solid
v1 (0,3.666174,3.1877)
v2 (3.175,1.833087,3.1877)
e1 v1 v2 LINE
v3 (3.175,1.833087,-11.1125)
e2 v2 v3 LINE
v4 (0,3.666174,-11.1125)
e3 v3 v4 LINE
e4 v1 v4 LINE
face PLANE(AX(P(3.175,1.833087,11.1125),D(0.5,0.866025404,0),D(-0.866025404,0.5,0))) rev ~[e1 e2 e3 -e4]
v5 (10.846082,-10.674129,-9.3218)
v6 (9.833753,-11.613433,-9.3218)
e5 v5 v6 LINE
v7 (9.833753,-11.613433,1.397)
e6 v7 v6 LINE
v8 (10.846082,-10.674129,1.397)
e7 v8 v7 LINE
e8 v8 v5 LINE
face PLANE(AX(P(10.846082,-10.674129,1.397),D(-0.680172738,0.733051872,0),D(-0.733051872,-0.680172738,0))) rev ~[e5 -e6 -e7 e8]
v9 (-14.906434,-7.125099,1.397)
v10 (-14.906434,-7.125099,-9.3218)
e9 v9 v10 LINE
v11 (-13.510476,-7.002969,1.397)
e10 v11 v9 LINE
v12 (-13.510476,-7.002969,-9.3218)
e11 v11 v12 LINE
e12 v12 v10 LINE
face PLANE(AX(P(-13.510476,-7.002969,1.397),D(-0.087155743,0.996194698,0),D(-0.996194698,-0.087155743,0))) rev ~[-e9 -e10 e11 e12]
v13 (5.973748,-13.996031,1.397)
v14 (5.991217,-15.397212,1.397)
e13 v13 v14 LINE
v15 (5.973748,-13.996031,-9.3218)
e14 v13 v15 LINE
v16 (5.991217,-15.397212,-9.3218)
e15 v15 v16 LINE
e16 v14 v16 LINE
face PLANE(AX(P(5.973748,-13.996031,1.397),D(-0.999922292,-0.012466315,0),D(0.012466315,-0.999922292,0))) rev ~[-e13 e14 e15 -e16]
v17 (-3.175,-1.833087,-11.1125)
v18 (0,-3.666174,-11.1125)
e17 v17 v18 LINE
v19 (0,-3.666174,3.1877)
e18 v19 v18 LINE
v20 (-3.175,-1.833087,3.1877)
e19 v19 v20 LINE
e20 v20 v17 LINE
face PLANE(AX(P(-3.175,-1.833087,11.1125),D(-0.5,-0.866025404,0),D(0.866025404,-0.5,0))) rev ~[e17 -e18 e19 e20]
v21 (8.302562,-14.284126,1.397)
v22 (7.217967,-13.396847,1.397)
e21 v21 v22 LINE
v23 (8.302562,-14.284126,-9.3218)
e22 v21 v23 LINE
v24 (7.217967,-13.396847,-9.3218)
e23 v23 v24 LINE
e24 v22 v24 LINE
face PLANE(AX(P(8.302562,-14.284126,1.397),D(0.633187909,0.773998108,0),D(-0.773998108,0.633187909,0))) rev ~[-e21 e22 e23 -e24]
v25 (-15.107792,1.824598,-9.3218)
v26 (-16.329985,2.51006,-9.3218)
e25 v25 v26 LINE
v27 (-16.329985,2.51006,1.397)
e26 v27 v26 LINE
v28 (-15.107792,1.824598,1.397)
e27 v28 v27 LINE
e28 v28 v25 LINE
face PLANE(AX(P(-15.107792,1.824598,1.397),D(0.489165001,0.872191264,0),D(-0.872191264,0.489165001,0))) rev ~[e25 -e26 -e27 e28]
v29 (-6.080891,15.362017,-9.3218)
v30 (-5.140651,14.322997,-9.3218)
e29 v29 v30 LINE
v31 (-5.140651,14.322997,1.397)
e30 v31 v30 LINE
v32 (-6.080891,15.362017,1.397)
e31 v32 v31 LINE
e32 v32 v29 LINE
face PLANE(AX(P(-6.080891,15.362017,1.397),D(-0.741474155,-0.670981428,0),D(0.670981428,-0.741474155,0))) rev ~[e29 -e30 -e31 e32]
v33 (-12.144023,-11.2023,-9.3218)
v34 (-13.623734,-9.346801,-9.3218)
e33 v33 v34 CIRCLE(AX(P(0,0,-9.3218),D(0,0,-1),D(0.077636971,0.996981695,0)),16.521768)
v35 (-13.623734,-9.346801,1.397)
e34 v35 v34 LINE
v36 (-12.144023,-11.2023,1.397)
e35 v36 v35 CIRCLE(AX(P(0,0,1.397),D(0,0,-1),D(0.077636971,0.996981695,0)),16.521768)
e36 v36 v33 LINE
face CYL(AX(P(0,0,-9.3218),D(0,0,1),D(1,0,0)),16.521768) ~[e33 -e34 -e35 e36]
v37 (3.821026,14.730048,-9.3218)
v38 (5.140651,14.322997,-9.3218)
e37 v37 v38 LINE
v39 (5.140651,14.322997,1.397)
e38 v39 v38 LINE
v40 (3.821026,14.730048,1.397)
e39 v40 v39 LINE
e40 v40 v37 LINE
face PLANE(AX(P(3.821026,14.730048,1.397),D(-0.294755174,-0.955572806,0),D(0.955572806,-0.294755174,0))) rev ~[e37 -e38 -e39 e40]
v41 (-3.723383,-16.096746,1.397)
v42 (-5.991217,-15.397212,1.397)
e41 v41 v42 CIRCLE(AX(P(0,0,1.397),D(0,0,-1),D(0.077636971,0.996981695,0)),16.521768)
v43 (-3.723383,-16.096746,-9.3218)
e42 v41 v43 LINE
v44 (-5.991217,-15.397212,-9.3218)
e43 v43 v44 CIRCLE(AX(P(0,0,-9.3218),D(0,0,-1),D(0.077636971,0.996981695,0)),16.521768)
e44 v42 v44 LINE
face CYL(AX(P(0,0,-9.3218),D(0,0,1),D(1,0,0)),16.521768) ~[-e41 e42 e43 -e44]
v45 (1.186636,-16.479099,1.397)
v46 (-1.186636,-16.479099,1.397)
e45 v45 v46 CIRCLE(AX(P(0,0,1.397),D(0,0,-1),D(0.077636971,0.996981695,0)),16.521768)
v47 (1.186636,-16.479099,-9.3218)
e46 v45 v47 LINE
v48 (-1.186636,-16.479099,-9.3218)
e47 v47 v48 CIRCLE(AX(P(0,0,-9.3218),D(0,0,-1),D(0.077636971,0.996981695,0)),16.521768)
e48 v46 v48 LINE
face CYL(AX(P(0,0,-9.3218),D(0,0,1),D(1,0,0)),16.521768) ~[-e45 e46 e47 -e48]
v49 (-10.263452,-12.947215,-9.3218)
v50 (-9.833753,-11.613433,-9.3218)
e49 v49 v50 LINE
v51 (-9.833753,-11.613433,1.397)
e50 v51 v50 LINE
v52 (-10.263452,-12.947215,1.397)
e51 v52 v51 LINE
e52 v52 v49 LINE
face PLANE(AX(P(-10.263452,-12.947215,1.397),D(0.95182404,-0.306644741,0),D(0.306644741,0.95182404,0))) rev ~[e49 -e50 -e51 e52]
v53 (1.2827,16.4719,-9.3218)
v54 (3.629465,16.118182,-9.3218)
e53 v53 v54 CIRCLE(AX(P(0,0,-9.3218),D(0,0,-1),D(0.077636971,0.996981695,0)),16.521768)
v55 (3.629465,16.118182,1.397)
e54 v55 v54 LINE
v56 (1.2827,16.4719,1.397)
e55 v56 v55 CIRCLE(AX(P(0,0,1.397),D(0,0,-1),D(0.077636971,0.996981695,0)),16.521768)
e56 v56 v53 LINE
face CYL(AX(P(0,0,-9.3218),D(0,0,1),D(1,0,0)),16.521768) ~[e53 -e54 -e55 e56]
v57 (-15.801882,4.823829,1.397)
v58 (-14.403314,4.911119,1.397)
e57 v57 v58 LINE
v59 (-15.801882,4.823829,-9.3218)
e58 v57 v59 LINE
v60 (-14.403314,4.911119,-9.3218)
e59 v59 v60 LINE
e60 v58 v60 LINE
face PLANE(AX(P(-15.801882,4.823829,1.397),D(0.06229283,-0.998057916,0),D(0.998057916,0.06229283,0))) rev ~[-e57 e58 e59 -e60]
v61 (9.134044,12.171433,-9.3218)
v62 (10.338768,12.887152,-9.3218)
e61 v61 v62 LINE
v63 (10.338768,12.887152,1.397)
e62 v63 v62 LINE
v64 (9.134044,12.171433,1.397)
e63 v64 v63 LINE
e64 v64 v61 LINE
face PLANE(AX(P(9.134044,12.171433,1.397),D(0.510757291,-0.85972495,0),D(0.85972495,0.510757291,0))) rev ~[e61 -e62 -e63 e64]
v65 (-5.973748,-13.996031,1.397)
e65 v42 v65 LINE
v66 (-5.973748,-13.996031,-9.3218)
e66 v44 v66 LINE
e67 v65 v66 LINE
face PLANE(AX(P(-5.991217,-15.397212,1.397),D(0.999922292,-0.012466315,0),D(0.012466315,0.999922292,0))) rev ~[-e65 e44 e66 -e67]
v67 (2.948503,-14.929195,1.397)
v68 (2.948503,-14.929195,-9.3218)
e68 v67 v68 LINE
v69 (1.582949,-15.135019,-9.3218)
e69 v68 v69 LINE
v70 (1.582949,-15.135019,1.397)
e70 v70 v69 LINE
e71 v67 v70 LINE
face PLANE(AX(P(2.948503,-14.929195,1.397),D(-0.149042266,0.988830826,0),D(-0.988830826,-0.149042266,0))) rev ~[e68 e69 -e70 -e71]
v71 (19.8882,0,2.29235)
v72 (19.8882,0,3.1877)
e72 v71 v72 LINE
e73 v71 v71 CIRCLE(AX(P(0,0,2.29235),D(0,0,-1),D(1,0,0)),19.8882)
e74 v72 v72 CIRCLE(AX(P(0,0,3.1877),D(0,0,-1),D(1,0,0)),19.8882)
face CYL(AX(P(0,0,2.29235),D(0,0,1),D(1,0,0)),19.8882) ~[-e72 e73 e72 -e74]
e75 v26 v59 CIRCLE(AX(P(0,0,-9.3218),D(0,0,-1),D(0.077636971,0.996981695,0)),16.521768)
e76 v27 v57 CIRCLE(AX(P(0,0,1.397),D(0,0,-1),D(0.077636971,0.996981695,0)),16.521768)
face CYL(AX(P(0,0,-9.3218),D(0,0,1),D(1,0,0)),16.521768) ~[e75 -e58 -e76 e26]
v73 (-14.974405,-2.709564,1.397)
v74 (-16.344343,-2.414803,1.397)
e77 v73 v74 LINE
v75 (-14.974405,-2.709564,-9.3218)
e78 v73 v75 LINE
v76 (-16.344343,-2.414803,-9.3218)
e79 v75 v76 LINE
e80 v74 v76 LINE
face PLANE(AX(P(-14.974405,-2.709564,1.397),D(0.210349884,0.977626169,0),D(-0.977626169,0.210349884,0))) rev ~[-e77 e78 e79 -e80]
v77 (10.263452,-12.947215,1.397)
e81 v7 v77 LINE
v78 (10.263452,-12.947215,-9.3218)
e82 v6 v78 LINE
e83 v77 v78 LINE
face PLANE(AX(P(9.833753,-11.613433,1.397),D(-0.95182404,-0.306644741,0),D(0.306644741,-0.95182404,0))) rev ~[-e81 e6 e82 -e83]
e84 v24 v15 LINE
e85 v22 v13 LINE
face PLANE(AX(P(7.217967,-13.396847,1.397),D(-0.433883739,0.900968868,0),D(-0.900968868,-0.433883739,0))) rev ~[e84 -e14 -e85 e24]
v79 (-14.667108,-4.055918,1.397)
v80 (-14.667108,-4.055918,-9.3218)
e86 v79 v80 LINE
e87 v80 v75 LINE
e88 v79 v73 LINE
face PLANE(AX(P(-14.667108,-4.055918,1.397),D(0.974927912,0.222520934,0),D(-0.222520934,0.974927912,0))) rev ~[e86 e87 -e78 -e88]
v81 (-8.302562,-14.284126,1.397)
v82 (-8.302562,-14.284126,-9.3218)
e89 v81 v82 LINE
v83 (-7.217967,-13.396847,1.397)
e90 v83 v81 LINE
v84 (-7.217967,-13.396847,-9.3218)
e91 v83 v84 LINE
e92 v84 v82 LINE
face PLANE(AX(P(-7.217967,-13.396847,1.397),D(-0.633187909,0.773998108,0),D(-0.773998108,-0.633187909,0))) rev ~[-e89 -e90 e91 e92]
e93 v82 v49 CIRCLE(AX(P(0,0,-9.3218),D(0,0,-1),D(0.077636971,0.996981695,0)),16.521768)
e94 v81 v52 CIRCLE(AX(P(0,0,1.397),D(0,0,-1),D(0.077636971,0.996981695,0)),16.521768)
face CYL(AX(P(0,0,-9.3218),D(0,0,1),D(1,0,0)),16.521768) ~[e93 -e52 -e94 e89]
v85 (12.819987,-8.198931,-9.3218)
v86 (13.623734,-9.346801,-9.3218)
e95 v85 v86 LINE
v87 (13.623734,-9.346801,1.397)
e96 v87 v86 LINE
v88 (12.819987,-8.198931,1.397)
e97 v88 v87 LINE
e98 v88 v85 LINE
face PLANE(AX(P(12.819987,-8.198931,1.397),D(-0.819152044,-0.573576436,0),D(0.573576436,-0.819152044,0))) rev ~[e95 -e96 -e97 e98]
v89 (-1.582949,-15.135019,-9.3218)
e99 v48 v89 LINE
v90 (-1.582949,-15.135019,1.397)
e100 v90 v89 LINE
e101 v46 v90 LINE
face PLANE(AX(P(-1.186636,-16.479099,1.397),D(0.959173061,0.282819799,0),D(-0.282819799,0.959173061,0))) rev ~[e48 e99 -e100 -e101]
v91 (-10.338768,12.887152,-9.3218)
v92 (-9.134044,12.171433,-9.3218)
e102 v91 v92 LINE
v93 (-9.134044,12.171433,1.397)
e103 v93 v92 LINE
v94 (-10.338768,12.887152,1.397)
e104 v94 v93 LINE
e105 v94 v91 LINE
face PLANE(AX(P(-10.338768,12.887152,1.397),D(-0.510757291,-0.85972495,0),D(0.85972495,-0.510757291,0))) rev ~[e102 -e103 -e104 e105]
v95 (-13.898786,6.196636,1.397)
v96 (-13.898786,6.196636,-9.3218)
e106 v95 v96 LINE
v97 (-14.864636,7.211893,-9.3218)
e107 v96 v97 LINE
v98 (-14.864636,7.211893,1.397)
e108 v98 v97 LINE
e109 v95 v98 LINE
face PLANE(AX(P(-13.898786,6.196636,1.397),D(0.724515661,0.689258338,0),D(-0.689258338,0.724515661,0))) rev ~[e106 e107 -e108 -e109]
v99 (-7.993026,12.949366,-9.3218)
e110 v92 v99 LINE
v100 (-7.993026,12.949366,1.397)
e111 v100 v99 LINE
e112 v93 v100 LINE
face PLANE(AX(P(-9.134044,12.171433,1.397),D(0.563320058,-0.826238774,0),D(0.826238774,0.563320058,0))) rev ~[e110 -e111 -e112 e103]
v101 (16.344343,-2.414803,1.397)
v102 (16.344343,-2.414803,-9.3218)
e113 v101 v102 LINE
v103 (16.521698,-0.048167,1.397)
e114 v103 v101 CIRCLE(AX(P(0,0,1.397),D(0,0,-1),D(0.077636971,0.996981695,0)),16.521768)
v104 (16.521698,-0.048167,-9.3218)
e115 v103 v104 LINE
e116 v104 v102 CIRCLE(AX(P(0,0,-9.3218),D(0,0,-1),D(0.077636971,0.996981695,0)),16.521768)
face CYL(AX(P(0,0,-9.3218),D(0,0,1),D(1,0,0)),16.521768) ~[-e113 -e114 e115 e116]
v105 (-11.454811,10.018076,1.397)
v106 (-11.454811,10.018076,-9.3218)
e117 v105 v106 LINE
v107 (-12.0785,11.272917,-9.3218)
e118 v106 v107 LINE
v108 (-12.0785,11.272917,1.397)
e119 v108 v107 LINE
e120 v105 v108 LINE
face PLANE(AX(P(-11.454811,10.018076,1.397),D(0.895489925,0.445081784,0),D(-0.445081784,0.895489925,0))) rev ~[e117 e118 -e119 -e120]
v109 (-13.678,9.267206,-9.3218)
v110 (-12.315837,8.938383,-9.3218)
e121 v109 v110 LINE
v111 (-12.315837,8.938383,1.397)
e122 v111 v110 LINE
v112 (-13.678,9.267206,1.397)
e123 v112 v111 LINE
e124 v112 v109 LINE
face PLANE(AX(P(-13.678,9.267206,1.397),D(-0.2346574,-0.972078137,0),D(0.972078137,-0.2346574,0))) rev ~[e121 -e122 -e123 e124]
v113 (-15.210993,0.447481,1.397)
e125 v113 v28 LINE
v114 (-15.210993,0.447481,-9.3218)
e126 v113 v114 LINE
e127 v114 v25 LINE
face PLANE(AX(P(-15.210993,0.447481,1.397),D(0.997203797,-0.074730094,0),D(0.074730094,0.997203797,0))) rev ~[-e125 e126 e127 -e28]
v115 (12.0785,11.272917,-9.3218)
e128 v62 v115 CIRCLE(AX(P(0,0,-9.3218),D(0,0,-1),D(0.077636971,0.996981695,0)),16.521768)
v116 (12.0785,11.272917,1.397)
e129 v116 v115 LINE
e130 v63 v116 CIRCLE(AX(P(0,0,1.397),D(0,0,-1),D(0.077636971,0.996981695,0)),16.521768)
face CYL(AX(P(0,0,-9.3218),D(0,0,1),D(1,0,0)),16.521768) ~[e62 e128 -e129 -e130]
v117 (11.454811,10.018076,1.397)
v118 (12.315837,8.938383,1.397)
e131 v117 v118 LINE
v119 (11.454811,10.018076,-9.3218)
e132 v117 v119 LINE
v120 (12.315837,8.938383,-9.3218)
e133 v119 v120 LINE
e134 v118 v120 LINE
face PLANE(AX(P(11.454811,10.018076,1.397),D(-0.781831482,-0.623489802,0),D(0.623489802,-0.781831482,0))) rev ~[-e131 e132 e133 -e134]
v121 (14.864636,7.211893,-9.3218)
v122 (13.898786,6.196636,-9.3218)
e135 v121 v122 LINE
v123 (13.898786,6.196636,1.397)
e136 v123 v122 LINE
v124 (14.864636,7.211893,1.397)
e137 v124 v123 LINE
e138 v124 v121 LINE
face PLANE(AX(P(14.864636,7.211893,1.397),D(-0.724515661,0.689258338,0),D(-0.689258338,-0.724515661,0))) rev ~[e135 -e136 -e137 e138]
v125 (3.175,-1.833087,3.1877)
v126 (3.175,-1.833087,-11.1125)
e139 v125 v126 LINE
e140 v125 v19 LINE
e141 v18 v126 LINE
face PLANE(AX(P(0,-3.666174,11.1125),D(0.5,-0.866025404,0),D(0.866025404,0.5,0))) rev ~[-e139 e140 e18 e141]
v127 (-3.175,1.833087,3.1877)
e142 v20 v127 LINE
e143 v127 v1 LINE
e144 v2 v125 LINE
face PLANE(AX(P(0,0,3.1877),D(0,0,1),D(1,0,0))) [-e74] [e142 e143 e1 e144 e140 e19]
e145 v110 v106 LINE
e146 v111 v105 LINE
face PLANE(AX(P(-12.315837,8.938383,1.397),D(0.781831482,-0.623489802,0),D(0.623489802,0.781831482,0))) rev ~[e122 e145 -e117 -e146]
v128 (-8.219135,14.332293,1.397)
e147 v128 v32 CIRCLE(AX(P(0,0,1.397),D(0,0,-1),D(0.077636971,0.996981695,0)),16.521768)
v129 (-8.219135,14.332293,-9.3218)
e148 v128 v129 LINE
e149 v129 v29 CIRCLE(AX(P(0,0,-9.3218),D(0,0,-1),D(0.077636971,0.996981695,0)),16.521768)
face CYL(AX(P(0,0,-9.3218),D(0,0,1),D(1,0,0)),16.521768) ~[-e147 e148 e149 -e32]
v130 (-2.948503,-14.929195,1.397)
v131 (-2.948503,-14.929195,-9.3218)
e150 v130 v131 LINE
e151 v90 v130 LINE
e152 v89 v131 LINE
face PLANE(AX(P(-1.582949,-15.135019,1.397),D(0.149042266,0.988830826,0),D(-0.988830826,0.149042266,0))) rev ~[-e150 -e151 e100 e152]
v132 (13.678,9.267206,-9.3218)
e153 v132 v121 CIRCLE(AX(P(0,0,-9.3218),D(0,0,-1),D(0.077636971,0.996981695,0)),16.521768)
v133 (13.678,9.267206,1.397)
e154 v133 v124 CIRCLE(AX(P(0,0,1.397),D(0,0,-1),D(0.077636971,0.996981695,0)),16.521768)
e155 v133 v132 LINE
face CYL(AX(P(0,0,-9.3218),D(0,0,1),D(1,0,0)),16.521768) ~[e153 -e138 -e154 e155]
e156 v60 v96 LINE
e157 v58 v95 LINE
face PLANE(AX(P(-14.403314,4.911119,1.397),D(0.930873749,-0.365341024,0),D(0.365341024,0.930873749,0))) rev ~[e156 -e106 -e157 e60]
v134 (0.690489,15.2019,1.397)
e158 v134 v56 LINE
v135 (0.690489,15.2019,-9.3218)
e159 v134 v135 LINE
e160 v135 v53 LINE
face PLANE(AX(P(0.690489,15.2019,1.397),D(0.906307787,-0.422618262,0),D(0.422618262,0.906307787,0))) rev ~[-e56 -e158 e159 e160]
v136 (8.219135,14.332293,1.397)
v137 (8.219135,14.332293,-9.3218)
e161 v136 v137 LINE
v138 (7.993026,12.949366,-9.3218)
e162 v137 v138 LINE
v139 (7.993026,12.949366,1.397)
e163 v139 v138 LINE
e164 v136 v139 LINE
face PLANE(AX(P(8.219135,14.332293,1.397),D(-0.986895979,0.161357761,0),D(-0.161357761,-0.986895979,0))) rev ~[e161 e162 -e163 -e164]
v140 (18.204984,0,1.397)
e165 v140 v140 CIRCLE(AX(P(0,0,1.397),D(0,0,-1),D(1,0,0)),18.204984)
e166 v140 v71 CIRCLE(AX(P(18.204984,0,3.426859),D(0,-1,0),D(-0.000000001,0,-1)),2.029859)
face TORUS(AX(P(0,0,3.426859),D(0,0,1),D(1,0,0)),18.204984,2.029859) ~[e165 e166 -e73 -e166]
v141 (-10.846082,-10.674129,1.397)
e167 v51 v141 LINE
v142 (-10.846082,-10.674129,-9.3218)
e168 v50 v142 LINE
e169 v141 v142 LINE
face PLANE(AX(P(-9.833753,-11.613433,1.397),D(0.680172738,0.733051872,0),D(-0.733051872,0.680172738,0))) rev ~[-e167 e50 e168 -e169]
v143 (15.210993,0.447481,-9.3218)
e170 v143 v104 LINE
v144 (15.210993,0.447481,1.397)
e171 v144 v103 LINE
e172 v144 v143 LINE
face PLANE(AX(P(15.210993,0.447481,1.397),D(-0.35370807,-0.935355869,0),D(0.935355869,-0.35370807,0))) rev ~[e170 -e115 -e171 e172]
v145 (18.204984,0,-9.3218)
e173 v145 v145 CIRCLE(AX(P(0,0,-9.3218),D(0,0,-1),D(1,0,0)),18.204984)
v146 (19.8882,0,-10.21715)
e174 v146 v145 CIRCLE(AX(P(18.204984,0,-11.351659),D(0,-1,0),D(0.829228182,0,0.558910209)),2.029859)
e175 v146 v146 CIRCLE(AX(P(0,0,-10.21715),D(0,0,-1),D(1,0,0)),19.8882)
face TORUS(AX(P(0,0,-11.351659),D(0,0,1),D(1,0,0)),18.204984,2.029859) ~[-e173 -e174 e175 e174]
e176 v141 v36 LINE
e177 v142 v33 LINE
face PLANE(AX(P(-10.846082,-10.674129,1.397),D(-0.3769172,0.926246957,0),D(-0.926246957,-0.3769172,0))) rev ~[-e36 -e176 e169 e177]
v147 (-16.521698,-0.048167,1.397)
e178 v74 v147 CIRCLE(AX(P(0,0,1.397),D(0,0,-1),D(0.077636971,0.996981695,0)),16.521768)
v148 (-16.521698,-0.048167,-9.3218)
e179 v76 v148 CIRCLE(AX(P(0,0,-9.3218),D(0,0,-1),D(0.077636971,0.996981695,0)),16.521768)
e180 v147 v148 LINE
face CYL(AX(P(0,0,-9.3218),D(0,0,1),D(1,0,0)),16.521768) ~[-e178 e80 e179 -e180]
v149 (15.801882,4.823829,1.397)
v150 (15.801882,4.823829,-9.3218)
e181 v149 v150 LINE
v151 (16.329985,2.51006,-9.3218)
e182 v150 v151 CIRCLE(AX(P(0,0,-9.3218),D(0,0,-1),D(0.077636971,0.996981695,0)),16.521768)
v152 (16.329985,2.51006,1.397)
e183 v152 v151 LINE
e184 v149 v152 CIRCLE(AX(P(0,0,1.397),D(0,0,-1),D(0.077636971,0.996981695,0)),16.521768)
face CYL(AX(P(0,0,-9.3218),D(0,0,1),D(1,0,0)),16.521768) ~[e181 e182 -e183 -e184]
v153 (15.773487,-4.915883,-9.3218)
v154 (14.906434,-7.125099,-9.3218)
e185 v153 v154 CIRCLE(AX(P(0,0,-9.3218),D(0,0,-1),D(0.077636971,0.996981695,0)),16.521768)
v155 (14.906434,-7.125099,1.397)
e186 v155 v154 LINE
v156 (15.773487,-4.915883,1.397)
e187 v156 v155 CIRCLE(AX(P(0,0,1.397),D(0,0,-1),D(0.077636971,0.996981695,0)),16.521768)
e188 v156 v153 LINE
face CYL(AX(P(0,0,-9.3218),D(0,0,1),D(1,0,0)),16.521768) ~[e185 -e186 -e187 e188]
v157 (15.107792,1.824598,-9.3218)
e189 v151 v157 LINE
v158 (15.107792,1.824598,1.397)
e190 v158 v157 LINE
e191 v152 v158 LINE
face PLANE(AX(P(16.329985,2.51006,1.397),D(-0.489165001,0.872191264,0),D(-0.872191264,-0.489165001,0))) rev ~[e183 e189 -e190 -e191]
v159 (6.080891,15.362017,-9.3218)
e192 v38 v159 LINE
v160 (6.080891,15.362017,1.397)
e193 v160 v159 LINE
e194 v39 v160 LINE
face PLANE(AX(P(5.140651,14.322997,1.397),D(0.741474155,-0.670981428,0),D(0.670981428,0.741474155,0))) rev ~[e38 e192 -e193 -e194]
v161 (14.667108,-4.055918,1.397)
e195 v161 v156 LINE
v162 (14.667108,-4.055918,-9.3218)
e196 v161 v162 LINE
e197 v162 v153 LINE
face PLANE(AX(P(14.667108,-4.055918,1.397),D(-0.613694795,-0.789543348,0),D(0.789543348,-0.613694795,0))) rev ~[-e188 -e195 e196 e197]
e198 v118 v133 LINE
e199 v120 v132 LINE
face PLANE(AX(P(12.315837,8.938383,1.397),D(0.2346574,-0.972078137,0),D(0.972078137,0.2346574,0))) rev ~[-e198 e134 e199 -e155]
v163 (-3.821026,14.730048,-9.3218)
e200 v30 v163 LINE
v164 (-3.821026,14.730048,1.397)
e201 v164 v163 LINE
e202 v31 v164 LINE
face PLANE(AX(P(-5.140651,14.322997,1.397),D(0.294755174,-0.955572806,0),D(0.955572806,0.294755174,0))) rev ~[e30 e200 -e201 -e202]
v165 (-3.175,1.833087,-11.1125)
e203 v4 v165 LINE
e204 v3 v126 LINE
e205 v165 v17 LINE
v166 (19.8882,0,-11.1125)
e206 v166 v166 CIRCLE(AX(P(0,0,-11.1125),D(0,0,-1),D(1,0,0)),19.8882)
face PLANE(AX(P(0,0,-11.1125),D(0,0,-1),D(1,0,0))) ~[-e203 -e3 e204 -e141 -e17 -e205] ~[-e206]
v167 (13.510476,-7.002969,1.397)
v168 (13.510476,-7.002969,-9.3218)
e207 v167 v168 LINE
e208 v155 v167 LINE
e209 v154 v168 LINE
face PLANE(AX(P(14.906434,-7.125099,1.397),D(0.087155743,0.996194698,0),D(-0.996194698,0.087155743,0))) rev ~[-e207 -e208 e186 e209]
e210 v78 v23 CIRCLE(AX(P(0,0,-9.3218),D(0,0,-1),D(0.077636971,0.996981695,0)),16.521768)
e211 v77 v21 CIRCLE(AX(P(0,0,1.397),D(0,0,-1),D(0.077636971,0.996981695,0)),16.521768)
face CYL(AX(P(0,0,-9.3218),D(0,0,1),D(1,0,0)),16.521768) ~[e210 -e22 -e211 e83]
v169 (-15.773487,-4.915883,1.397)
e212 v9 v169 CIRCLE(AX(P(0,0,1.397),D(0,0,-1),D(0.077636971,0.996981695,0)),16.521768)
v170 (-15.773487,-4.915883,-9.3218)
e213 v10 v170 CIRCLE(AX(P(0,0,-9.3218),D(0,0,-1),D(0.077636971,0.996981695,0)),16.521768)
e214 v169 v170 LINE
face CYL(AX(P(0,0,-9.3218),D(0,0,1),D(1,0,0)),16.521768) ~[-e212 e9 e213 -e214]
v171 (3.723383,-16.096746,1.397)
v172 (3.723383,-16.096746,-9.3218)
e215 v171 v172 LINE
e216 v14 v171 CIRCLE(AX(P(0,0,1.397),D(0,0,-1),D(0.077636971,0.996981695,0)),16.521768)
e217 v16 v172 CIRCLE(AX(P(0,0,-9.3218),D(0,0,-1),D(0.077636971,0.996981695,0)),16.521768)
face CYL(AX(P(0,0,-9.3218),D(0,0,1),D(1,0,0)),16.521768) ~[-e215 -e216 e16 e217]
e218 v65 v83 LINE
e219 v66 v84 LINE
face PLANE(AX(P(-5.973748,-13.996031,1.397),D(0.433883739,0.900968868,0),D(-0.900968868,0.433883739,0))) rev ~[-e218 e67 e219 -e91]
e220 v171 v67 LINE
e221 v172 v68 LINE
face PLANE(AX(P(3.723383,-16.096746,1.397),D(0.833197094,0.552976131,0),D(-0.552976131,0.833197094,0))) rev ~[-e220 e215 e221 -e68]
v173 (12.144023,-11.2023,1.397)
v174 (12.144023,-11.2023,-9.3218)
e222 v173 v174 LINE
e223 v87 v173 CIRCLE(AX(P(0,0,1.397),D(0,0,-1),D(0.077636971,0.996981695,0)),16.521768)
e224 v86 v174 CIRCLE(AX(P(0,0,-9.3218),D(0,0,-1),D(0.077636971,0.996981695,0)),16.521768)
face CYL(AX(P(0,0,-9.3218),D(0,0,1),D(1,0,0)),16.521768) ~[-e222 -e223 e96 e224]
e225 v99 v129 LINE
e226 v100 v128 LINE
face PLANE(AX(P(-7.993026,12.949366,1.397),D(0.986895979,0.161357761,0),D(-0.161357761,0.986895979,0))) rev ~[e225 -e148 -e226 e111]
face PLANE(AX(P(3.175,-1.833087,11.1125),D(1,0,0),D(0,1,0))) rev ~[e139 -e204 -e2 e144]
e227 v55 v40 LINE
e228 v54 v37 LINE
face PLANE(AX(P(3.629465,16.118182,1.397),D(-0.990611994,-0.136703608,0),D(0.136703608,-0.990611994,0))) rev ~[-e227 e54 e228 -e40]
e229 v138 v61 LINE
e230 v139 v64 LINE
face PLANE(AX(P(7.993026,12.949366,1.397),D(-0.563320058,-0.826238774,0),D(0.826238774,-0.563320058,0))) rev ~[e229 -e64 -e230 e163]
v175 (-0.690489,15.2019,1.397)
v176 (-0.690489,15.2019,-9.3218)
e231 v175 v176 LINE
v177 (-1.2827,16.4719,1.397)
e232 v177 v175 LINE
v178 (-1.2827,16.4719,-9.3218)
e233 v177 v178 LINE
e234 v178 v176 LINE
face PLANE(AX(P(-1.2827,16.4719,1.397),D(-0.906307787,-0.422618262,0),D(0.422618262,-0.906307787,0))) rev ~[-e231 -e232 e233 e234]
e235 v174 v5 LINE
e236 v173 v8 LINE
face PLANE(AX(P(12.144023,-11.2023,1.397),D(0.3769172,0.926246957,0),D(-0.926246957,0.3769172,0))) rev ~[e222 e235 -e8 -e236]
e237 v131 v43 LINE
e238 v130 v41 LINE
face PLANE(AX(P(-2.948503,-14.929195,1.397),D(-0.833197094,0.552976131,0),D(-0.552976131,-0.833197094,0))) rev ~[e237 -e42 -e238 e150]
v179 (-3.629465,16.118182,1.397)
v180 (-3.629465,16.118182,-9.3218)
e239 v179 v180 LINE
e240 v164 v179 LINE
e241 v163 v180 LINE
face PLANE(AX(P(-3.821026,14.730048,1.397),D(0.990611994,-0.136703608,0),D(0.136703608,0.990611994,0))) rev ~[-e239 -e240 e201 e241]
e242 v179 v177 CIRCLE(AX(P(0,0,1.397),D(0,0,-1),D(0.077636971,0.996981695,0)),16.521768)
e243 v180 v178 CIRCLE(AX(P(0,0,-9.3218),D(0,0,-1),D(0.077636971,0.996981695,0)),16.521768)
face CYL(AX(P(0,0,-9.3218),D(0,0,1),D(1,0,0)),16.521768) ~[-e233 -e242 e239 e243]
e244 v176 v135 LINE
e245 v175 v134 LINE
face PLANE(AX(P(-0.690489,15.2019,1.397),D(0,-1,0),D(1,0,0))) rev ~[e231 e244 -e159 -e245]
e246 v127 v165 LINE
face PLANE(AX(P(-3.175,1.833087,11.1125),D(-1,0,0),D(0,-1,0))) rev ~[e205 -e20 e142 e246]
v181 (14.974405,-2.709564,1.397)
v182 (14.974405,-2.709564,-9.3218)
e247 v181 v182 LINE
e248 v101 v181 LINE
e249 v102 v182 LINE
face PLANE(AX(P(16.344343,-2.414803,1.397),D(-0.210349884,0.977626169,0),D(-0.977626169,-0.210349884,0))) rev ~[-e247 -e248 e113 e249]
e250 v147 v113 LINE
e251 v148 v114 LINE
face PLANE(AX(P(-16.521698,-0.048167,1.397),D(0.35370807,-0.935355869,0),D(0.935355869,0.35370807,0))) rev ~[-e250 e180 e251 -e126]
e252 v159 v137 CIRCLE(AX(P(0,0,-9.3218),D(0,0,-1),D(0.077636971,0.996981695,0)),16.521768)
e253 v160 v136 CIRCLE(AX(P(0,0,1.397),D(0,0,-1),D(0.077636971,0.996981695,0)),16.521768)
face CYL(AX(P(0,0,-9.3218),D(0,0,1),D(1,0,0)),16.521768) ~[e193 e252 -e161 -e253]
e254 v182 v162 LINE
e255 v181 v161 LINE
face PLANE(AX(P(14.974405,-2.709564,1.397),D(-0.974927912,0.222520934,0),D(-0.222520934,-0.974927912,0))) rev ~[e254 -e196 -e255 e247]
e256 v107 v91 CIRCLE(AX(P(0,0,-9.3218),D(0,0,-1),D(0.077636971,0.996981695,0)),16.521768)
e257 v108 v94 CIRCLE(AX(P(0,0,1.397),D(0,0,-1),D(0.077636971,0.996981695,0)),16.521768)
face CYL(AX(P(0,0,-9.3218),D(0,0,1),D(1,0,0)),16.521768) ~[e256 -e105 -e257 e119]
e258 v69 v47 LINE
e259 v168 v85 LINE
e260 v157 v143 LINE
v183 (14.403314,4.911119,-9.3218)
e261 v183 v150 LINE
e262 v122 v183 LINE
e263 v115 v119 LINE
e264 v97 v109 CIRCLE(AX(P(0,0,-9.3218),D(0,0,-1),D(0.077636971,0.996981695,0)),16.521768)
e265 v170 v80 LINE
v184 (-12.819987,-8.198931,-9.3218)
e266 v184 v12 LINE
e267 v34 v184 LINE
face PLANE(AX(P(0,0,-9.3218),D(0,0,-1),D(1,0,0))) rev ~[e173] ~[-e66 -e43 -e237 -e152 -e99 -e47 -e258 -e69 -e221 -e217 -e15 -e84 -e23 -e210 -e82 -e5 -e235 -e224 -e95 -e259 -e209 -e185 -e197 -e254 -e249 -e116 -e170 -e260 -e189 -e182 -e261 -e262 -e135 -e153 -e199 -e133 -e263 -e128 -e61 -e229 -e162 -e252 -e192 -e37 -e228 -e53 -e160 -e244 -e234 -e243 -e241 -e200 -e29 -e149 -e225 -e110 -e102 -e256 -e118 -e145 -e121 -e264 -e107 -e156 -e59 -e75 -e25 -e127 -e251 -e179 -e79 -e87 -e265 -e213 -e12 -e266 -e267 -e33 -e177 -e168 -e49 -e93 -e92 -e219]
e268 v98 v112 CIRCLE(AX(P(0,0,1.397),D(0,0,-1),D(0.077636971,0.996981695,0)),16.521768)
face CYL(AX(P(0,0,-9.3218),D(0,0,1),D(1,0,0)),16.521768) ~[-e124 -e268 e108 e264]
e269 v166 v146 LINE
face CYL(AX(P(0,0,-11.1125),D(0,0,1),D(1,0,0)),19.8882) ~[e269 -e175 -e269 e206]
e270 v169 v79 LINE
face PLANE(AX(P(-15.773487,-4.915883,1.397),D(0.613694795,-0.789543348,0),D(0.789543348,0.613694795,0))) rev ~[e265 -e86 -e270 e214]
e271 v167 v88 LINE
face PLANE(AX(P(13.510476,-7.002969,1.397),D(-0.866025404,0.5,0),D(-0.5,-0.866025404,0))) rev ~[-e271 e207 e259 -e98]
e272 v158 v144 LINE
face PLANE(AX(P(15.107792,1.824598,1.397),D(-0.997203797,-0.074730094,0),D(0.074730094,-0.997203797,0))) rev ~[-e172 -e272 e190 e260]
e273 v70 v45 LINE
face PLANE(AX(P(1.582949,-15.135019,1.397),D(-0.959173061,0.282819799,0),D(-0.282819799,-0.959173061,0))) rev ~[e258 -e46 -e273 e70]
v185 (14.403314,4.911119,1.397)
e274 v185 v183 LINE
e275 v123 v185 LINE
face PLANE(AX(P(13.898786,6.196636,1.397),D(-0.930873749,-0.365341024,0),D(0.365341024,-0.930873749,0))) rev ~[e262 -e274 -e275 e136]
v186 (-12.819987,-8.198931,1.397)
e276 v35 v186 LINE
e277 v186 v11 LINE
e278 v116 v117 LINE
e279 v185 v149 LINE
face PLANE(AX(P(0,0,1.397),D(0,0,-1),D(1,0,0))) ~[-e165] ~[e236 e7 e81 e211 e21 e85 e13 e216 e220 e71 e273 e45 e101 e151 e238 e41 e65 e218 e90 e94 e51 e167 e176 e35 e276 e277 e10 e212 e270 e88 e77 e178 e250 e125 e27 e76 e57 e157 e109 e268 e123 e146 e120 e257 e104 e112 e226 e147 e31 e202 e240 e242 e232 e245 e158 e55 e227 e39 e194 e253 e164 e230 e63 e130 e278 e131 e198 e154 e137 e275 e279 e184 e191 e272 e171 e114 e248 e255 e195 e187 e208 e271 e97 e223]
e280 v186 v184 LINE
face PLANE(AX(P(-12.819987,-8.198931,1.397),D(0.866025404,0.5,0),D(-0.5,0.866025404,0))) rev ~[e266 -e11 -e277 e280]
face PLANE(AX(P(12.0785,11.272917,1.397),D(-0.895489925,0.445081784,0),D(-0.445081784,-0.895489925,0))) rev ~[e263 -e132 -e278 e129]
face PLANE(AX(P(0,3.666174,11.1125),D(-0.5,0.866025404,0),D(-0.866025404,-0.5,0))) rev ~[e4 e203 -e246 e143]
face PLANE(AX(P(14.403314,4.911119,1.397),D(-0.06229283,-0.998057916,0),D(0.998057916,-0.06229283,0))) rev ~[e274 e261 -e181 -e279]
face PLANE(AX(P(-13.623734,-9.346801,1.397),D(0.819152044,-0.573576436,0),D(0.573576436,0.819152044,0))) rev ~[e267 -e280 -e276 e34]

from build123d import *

# Parameters (mm, degrees)
CUT_EXTRUDE1_START = 1.397
CUT_EXTRUDE1_DEPTH = 10.7188
CIRPATTERN1_COUNT  = 21
SKETCH4_R          = 1.5875
CUT_EXTRUDE2_DEPTH = 31.241836167
CUT_EXTRUDE3_DEPTH = 1.190625
CIRPATTERN2_COUNT  = 2
CIRPATTERN2_ANGLE  = 90
CUT_EXTRUDE4_DEPTH = 50.8
SKETCH8_R          = 12.7
CUT_EXTRUDE5_DEPTH = 50.8


with BuildPart() as part:
    # Sketch2 → Revolve1 (revolve)
    with BuildSketch(Plane(origin=(0, 0, 0), x_dir=(0, 0, -1), z_dir=(1, 0, 0)), mode=Mode.PRIVATE) as revolve1_sk:
        with BuildLine():
            Line((-11.1125, 3.175), (11.1125, 3.175))
            Line((11.1125, 3.175), (11.1125, 19.8882))
            Line((11.1125, 19.8882), (10.21715, 19.8882))
            ThreePointArc((10.21715, 19.8882), (9.559562343, 19.158250378), (9.3218, 18.204983865))
            Line((9.3218, 18.204983865), (9.3218, 16.521767729))
            Line((9.3218, 16.521767729), (-1.397, 16.521767729))
            Line((-1.397, 16.521767729), (-1.397, 18.204983865))
            ThreePointArc((-1.397, 18.204983865), (-1.634762343, 19.158250378), (-2.29235, 19.8882))
            Line((-2.29235, 19.8882), (-3.1877, 19.8882))
            Line((-3.1877, 19.8882), (-3.1877, 11.9126))
            Line((-3.1877, 11.9126), (-11.1125, 11.9126))
            Line((-11.1125, 11.9126), (-11.1125, 3.175))
        make_face()
    revolve(revolve1_sk.sketch.rotate(Axis((0, 0, 11.1125), (0, 0, -1)), 90), axis=Axis((0, 0, 11.1125), (0, 0, -1)))

    # Sketch3 → Cut-Extrude1 (cut)
    with BuildSketch(Plane.XY.offset(CUT_EXTRUDE1_START)):
        with BuildLine():
            Line((-0.690489274, 15.2019), (0.690489274, 15.2019))
            Line((0.690489274, 15.2019), (1.2827, 16.4719))
            ThreePointArc((1.2827, 16.4719), (0, 16.521767729), (-1.2827, 16.4719))
            Line((-1.2827, 16.4719), (-0.690489274, 15.2019))
        make_face()
    cut_extrude1 = extrude(amount=-CUT_EXTRUDE1_DEPTH, mode=Mode.SUBTRACT)

    # CirPattern1: Cut-Extrude1 ×21 about axis
    cirpattern1_axis = Axis((0, 0, 0), (0, 0, 1))
    for i in range(1, CIRPATTERN1_COUNT):
        add(cut_extrude1.rotate(cirpattern1_axis, i * 360 / CIRPATTERN1_COUNT), mode=Mode.SUBTRACT)

    # Sketch4 → Cut-Extrude2 (cut, through all)
    with BuildSketch(Plane(origin=(0, 0, 0), x_dir=(1, 0, 0), z_dir=(0, 1, 0))):
        with Locations(Location((0, -7.1501, 0), (0, 0, 90))):
            Circle(SKETCH4_R)
    cut_extrude2 = extrude(amount=CUT_EXTRUDE2_DEPTH, mode=Mode.SUBTRACT)

    # Sketch5 → Revolve2 (revolve)
    with BuildSketch(Plane.XY.offset(7.1501), mode=Mode.PRIVATE) as revolve2_sk:
        Polygon((1.0795, 11.806349246), (1.5875, 11.298349246), (1.5875, 3.81), (0.9525, 3.175), (0, 3.175), (0, 11.806349246), align=None)
    revolve2 = revolve(revolve2_sk.sketch.rotate(Axis((0, 0, 7.1501), (0, 1, 0)), 90), axis=Axis((0, 0, 7.1501), (0, 1, 0)))

    # Sketch6 → Cut-Extrude3 (cut)
    with BuildSketch(Plane(origin=(0, 11.806349246, 0), x_dir=(1, 0, 0), z_dir=(0, 1, 0))):
        Polygon((0, -6.233556448), (-0.79375, -6.691828224), (-0.79375, -7.608371776), (0, -8.066643552), (0.79375, -7.608371776), (0.79375, -6.691828224), align=None)
    cut_extrude3 = extrude(amount=-CUT_EXTRUDE3_DEPTH, mode=Mode.SUBTRACT)

    # CirPattern2: Cut-Extrude2, Revolve2, Cut-Extrude3 ×2 about axis
    cirpattern2_axis = Axis((0, 0, 0), (0, 0, -1))
    add([cut_extrude2.rotate(cirpattern2_axis, i * CIRPATTERN2_ANGLE / (CIRPATTERN2_COUNT - 1)) for i in range(1, CIRPATTERN2_COUNT)], mode=Mode.SUBTRACT)
    add([revolve2.rotate(cirpattern2_axis, i * CIRPATTERN2_ANGLE / (CIRPATTERN2_COUNT - 1)) for i in range(1, CIRPATTERN2_COUNT)])
    add([cut_extrude3.rotate(cirpattern2_axis, i * CIRPATTERN2_ANGLE / (CIRPATTERN2_COUNT - 1)) for i in range(1, CIRPATTERN2_COUNT)], mode=Mode.SUBTRACT)

    # Sketch7 → Cut-Extrude4 (cut)
    with BuildSketch(Plane.XY.offset(11.1125)):
        Polygon((0, 3.666174209), (-3.175, 1.833087105), (-3.175, -1.833087105), (0, -3.666174209), (3.175, -1.833087105), (3.175, 1.833087105), align=None)
    extrude(amount=-CUT_EXTRUDE4_DEPTH, mode=Mode.SUBTRACT)

    # Sketch8 → Cut-Extrude5 (cut)
    with BuildSketch(Plane.XY.offset(3.1877)):
        Circle(SKETCH8_R)
    extrude(amount=CUT_EXTRUDE5_DEPTH, mode=Mode.SUBTRACT)


solid = part.part
